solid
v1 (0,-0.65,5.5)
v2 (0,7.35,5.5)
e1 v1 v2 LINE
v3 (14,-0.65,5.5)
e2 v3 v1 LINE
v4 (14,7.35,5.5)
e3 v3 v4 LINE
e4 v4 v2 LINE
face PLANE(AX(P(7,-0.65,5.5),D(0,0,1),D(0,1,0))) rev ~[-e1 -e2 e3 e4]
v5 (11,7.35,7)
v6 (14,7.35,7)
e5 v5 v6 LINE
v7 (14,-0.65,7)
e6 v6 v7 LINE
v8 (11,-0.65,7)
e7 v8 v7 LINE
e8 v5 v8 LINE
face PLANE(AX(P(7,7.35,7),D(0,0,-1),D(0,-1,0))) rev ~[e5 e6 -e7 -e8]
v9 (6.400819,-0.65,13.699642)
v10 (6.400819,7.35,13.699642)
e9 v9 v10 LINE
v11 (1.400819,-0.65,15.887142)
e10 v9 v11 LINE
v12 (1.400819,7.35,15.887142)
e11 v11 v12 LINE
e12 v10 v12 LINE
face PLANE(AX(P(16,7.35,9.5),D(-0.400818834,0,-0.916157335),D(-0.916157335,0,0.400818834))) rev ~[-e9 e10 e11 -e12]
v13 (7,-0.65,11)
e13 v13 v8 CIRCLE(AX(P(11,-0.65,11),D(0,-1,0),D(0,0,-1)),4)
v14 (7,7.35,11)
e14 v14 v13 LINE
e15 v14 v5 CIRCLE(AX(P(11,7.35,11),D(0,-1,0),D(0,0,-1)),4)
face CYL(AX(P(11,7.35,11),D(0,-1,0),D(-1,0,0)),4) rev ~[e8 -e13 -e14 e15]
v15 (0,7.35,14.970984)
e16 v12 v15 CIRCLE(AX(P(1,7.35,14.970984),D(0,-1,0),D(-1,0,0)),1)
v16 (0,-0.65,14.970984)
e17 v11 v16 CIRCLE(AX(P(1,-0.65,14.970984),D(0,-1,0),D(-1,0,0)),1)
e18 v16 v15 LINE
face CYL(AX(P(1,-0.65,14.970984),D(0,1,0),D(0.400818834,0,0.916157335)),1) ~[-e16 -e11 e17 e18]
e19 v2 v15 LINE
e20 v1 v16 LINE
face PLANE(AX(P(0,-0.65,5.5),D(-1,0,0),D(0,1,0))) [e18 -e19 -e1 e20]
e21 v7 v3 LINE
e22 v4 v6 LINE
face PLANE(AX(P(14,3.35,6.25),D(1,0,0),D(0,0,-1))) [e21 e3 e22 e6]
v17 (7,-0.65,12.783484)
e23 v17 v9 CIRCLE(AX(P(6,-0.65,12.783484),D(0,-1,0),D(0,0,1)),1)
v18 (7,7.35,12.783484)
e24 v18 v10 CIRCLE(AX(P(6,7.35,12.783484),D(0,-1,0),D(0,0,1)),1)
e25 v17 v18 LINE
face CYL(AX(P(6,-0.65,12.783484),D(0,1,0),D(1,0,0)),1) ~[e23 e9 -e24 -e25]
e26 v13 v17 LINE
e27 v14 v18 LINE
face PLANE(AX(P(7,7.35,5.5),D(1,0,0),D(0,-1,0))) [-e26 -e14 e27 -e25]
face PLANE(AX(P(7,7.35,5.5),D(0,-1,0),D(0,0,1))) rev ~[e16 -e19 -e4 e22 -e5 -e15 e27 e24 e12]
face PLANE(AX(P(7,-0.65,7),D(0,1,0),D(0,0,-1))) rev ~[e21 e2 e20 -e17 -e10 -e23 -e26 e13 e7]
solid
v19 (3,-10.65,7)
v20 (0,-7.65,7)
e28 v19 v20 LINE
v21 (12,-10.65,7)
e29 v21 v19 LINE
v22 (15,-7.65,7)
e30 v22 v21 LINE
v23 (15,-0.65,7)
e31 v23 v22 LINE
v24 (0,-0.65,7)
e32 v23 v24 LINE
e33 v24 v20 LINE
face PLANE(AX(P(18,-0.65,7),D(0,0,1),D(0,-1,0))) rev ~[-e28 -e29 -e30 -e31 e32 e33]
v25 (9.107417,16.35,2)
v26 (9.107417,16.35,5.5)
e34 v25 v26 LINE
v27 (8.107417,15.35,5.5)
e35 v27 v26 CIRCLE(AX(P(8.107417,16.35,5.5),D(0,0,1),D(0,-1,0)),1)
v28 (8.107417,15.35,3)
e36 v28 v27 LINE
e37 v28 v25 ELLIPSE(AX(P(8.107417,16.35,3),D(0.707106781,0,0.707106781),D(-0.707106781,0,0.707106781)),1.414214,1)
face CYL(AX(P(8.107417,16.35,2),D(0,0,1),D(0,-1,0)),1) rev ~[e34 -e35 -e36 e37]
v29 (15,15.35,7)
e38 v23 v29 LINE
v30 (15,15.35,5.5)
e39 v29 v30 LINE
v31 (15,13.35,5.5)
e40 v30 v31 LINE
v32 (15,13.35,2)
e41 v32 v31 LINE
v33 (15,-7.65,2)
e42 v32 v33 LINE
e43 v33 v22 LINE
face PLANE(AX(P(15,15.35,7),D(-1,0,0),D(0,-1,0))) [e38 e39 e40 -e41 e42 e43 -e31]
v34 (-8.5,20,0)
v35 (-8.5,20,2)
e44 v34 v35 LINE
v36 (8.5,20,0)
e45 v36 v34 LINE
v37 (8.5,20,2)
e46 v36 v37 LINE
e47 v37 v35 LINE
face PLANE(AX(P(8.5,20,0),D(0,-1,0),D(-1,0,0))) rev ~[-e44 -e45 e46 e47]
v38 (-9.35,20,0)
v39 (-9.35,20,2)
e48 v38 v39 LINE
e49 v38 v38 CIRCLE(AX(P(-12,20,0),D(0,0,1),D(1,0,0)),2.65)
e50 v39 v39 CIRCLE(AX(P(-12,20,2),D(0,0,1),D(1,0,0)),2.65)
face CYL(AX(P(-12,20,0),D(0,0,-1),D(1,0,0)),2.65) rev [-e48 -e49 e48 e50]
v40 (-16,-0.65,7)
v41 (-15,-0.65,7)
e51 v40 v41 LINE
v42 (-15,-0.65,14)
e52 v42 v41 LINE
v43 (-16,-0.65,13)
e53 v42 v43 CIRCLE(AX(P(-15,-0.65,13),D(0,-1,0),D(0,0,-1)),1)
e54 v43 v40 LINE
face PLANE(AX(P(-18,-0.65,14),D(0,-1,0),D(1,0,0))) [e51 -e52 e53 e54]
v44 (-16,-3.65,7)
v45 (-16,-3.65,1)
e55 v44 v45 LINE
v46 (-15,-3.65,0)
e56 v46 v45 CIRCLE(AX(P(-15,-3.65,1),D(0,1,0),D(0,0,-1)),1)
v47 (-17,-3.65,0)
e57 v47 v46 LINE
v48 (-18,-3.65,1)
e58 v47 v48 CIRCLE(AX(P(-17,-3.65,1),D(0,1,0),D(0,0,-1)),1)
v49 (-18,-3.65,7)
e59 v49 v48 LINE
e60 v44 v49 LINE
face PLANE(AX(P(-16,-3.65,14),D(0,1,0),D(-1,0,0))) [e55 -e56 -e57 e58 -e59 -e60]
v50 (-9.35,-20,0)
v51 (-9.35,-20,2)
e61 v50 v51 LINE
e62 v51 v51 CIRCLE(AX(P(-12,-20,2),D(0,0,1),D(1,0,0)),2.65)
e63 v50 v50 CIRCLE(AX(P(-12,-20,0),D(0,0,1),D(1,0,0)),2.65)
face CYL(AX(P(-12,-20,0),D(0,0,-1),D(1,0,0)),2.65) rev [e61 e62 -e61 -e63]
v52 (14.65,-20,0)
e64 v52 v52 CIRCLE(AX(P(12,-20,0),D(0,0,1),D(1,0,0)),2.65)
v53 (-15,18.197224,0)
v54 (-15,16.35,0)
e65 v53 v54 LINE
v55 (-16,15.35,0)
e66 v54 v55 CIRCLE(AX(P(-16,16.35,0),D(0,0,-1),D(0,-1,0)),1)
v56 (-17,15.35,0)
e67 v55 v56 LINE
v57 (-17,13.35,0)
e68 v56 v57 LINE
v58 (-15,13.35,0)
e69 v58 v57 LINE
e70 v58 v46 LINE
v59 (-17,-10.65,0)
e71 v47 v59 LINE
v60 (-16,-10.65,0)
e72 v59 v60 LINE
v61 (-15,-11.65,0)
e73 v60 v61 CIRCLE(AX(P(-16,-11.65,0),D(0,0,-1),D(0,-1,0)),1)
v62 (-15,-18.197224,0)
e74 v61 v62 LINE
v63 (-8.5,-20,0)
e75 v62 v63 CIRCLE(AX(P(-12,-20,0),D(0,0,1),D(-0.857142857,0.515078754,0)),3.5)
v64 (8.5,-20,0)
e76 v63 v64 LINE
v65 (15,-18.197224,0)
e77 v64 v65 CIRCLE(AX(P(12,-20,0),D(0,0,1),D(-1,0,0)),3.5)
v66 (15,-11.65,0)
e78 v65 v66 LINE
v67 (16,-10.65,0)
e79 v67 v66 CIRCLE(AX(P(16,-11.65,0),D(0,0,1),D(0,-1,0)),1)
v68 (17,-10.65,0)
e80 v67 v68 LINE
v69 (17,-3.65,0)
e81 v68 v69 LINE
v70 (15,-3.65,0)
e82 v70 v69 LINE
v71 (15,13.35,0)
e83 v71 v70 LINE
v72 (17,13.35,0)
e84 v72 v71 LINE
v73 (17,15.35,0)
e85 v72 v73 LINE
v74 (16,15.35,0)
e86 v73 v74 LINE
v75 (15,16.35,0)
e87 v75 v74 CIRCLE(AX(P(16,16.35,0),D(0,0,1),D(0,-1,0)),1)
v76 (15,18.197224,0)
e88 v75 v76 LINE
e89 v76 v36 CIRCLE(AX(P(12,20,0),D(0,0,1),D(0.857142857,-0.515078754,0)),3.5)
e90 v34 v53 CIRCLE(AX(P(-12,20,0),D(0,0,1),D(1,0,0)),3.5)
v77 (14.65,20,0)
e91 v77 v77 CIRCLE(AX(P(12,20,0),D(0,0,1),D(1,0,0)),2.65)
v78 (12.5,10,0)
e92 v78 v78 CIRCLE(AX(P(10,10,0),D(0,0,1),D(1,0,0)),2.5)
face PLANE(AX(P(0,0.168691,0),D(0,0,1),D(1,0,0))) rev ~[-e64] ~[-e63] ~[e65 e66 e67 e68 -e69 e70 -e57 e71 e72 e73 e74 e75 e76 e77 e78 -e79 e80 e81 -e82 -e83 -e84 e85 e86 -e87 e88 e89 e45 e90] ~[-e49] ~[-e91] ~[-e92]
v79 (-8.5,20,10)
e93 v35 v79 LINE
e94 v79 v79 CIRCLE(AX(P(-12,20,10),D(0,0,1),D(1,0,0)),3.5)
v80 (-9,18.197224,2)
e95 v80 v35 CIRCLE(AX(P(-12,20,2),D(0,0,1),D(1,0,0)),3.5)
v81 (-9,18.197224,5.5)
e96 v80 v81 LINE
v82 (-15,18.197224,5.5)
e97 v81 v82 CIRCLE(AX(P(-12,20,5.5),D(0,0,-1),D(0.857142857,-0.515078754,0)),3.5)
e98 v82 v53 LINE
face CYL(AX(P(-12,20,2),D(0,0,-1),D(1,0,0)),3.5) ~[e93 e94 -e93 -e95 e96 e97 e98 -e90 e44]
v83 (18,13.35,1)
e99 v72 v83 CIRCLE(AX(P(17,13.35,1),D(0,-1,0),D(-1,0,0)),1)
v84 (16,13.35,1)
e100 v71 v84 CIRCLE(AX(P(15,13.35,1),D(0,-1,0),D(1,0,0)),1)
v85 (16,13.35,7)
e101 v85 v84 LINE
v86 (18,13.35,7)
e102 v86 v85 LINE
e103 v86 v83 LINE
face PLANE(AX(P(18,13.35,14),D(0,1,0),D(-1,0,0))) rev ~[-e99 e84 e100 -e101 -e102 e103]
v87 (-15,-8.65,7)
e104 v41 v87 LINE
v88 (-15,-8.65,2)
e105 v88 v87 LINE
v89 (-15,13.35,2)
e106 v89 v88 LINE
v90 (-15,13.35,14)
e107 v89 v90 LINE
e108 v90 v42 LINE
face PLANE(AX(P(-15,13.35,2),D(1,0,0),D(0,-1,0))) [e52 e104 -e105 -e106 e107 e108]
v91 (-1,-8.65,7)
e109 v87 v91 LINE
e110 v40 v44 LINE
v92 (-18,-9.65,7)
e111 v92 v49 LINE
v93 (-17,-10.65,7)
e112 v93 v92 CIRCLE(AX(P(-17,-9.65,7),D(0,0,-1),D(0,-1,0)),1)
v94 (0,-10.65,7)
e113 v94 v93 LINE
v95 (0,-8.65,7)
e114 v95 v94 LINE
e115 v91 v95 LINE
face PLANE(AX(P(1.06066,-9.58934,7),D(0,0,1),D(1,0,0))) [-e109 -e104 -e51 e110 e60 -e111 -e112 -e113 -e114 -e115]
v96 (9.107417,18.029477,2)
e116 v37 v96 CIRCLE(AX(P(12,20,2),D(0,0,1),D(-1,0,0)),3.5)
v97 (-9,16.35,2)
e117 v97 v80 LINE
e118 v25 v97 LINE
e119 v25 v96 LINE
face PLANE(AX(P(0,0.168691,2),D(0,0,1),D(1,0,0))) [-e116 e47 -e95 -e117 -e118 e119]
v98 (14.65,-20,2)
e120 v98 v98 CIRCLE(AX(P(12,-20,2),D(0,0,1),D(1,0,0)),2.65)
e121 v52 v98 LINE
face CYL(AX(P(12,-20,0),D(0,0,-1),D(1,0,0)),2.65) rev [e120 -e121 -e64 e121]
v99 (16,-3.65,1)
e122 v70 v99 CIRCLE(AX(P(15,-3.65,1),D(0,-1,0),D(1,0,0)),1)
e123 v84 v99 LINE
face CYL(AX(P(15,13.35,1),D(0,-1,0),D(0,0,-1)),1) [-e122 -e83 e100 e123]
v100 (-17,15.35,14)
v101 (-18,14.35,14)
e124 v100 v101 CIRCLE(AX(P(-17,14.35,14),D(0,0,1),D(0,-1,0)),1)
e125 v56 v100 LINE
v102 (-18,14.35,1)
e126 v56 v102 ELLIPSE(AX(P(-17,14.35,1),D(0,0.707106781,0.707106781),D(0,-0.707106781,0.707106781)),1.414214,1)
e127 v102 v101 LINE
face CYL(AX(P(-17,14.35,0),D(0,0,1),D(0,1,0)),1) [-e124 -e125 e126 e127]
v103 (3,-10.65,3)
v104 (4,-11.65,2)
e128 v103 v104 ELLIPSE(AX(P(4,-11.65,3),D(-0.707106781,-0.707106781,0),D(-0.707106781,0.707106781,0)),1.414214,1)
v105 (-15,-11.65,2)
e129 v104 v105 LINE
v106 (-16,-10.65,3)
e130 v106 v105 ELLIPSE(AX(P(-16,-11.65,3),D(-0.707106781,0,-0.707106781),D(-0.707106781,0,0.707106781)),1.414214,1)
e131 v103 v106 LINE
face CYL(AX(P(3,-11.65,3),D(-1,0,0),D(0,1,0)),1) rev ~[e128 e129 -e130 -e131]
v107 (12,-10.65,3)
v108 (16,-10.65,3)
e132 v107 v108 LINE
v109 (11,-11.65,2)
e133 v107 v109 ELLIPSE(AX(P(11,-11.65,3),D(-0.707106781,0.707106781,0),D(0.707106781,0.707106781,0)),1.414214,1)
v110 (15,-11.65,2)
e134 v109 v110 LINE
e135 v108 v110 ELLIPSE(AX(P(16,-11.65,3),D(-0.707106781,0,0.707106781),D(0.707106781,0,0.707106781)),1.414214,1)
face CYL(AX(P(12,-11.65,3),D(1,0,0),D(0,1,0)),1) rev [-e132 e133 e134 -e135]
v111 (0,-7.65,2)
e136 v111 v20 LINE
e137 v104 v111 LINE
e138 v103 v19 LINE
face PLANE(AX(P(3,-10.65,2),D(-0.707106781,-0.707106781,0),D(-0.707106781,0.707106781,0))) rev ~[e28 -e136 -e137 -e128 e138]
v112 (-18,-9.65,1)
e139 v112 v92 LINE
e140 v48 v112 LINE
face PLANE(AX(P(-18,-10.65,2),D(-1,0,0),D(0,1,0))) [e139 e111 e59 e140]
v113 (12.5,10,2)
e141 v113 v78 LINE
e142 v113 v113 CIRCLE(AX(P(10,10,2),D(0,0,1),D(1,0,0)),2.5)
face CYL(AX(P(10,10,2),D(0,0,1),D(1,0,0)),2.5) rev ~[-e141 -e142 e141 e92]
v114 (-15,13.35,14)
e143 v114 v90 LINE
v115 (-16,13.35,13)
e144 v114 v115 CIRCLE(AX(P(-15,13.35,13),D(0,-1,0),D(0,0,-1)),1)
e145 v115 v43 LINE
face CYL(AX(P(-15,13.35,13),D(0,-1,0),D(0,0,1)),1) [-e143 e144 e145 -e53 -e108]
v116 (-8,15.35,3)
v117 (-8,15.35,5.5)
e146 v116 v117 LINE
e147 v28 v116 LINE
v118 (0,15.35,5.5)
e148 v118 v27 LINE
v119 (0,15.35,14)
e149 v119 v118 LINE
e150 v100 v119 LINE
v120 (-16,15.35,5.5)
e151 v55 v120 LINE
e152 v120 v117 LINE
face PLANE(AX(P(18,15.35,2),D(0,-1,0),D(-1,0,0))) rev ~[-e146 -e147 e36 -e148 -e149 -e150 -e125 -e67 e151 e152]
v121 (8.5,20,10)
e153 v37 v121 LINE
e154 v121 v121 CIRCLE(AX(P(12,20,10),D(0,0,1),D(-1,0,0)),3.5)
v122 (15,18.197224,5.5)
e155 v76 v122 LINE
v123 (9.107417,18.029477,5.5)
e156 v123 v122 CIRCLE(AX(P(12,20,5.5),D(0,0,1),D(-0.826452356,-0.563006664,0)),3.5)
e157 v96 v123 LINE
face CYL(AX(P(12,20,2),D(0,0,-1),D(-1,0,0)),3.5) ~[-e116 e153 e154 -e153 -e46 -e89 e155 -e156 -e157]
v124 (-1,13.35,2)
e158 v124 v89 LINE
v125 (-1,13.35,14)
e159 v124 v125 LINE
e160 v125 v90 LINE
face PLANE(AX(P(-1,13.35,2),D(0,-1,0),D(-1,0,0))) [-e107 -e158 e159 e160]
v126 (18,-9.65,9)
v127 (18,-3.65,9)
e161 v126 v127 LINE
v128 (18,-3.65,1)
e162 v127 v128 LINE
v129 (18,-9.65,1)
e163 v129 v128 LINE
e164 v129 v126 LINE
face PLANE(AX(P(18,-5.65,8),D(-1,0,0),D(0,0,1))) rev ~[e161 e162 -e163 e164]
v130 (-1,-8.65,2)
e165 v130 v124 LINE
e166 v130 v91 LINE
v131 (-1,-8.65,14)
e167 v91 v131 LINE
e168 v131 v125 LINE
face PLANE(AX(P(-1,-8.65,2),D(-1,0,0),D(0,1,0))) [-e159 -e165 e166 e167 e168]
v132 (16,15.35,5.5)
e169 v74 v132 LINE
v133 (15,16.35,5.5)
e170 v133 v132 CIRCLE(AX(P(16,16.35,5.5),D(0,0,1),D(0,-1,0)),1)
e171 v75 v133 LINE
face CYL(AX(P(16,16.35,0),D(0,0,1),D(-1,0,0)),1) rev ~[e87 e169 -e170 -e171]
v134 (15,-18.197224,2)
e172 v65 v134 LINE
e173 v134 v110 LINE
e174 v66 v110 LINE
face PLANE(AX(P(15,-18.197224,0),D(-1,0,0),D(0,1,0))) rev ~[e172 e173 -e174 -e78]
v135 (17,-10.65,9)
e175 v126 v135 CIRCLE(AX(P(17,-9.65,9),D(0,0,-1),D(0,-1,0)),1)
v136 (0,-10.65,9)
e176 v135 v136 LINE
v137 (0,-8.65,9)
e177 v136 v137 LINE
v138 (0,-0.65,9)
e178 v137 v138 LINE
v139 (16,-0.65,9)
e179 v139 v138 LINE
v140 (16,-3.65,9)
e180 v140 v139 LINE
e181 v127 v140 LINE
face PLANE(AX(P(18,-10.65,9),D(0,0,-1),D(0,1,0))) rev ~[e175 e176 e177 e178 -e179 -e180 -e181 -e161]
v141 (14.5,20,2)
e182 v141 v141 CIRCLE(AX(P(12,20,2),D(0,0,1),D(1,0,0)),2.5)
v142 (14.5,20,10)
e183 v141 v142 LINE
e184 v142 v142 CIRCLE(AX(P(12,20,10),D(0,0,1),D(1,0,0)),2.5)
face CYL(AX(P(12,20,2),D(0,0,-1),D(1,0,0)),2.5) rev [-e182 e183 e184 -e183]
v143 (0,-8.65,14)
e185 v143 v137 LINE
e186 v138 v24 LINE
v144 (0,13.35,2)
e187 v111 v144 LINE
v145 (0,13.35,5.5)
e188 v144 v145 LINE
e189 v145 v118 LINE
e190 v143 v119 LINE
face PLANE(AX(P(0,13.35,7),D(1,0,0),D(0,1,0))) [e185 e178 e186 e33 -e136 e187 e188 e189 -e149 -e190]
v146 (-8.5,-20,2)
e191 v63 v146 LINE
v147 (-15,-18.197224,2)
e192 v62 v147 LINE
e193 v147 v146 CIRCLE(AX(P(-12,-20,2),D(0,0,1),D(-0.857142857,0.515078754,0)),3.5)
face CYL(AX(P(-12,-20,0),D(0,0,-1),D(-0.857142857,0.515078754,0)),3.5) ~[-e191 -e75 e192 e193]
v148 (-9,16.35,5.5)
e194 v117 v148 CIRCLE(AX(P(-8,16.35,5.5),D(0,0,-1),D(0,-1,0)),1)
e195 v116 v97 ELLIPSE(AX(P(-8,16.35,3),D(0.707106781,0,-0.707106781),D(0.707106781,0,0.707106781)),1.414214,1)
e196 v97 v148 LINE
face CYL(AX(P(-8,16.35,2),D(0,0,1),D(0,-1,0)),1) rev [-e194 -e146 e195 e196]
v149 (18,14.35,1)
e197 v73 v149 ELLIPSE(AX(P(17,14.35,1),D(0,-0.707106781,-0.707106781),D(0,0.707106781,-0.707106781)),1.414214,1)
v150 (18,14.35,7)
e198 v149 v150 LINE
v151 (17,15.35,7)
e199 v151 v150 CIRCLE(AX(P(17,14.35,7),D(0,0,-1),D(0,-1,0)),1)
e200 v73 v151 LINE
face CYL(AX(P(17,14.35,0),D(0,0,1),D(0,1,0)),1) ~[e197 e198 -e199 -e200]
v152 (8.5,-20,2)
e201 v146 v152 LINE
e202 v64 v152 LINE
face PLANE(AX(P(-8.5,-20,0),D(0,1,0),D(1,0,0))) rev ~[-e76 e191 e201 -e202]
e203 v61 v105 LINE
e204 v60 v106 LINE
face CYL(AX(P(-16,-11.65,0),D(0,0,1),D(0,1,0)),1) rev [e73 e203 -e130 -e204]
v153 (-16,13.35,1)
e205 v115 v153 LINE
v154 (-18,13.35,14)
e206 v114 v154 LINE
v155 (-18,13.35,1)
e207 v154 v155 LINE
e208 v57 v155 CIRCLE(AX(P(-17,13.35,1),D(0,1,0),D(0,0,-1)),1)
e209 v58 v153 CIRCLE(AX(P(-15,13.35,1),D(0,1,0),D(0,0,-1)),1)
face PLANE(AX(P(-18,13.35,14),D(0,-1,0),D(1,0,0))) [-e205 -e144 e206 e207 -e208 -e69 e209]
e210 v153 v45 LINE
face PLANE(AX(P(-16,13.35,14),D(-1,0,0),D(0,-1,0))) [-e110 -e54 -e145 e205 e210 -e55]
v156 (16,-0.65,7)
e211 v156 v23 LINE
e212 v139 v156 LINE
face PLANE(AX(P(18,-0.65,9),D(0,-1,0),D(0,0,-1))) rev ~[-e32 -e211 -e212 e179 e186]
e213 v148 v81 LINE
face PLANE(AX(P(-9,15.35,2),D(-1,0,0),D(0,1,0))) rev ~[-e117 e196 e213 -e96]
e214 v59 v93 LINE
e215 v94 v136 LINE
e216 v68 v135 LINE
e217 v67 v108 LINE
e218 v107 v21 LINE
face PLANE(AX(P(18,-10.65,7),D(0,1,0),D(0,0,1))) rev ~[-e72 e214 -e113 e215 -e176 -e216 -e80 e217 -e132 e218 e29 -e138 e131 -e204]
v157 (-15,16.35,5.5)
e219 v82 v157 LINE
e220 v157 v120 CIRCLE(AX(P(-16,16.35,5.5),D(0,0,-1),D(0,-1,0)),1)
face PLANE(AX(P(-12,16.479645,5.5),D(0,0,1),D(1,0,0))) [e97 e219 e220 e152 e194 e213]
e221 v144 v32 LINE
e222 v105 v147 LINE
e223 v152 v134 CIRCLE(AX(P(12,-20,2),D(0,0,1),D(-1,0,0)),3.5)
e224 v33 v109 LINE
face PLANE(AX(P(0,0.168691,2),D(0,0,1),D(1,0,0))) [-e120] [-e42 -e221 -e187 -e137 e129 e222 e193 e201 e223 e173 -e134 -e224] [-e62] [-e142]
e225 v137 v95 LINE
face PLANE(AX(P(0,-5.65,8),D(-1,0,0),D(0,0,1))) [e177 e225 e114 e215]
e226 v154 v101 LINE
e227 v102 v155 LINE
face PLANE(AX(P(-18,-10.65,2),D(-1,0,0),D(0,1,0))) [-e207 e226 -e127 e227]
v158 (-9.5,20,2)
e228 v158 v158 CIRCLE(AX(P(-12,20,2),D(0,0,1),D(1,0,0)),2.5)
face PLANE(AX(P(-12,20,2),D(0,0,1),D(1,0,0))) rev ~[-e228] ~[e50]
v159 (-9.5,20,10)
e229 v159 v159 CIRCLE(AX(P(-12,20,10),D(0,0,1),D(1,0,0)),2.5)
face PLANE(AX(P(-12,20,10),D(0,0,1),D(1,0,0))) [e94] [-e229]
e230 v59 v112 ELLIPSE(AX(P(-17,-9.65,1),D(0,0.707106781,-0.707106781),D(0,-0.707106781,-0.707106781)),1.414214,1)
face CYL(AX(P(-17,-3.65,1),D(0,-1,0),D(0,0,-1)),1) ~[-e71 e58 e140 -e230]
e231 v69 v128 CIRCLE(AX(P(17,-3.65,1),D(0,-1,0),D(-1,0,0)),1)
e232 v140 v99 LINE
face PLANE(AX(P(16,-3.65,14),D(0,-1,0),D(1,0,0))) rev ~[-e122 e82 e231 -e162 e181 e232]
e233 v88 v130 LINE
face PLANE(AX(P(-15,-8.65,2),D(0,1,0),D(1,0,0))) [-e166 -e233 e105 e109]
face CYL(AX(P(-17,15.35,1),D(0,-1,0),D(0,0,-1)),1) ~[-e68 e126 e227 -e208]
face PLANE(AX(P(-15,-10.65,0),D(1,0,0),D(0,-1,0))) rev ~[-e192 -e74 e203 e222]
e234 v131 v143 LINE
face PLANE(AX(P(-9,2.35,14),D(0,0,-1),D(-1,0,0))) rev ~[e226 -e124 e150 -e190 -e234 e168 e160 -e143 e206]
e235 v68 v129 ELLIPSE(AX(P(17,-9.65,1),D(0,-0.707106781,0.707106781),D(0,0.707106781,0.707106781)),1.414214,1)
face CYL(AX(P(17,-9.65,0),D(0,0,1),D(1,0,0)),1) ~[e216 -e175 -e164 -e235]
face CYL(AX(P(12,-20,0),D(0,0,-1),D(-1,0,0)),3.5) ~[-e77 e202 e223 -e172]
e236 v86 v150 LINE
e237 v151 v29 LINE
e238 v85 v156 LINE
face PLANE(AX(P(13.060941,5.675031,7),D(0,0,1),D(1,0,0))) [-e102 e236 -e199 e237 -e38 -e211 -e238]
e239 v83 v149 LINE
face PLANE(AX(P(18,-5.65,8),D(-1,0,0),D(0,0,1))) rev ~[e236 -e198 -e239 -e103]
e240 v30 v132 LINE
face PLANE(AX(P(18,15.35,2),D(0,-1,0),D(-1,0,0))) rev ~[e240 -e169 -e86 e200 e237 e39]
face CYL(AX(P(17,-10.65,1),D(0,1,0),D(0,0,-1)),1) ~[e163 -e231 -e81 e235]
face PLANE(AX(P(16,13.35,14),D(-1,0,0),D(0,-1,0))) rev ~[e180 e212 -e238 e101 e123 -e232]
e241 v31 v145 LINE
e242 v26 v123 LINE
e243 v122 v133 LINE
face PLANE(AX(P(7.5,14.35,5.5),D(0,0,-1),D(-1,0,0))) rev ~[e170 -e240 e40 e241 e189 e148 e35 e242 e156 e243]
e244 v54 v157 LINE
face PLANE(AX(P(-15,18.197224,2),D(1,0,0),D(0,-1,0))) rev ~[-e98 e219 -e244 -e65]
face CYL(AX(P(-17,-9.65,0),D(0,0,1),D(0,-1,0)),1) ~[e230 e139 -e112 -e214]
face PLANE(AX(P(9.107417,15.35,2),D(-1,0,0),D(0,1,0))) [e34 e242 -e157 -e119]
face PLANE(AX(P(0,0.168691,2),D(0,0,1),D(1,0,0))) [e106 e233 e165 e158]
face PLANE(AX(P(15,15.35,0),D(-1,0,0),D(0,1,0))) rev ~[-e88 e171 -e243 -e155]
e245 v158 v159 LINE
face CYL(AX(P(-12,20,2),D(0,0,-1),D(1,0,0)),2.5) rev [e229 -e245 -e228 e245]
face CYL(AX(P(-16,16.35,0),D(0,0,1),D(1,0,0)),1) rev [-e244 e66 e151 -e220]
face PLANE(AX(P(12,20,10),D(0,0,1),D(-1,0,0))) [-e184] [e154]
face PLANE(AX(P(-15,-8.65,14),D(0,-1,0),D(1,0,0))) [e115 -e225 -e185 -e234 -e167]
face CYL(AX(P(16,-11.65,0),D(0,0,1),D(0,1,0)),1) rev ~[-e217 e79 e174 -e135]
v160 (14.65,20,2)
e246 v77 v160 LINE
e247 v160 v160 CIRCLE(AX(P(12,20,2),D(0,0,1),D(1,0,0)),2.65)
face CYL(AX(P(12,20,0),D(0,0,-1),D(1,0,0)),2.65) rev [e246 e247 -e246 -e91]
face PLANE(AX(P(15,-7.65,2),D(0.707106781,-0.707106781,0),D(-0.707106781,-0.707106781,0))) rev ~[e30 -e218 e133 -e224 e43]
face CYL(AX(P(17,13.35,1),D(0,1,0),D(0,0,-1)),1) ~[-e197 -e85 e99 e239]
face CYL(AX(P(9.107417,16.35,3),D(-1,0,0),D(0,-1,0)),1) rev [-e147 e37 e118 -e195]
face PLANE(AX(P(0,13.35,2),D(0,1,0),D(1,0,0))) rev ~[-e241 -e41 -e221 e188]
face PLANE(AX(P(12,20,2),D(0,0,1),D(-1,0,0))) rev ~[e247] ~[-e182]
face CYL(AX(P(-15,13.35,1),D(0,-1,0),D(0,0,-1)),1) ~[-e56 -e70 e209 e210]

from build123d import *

# Parameters (mm, degrees)
SKETCH1_R            = 2.65
SKETCH1_R_2          = 2.650000000000013
BOSS_EXTRUDE1_DEPTH  = 2
BOSS_EXTRUDE2_DEPTH  = 12
CUT_EXTRUDE1_DEPTH   = 7
BOSS_EXTRUDE3_DEPTH  = 5
SKETCH6_R            = 3.4999999999999982
SKETCH6_R_2          = 2.4999999999999996
SKETCH6_R_3          = 3.4999999999999996
SKETCH6_R_4          = 2.4999999999999964
BOSS_EXTRUDE4_DEPTH  = 8
BOSS_EXTRUDE5_DEPTH  = 18
BOSS_EXTRUDE6_DEPTH  = 3.5
CUT_EXTRUDE2_DEPTH   = 1.5
SKETCH10_R           = 2.5000000000000004
CUT_EXTRUDE3_DEPTH   = 32.94135250736888
CUT_EXTRUDE4_DEPTH   = 33.74522866006589
FILLET1_R            = 1
BOSS_EXTRUDE7_DEPTH  = 11
CUT_EXTRUDE5_DEPTH   = 8
FILLET2_R            = 1
BOSS_EXTRUDE18_DEPTH = 7
FILLET3_R            = 4


with BuildPart() as part:
    # Sketch1 → Boss-Extrude1 (new body)
    with BuildSketch(Plane.XY):
        with BuildLine():
            Line((-14.999999999999993, 18.19722436226799), (-14.999999999999996, 15.350000000000001))
            Line((-14.999999999999996, 15.350000000000001), (-17.999999999999993, 15.350000000000001))
            Line((-17.999999999999993, 15.350000000000001), (-17.999999999999993, -10.649999999999999))
            Line((-17.999999999999993, -10.649999999999999), (-14.999999999999993, -10.649999999999999))
            Line((-14.999999999999993, -10.649999999999999), (-15.000000000000004, -18.197224362268003))
            ThreePointArc((-15.000000000000004, -18.197224362268003), (-12.935414346693491, -23.372684390808004), (-8.500000000000004, -20))
            Line((-8.500000000000004, -20), (8.499999999999996, -20))
            ThreePointArc((8.499999999999996, -20), (12.935414346693465, -23.37268439080802), (15.00000000000001, -18.197224362268035))
            Line((15.00000000000001, -18.197224362268035), (15.000000000000007, -10.649999999999995))
            Line((15.000000000000007, -10.649999999999995), (18.000000000000004, -10.649999999999995))
            Line((18.000000000000004, -10.649999999999995), (18.000000000000007, 15.350000000000005))
            Line((18.000000000000007, 15.350000000000005), (15.000000000000007, 15.350000000000005))
            Line((15.000000000000007, 15.350000000000005), (15.000000000000007, 18.197224362268017))
            ThreePointArc((15.000000000000007, 18.197224362268017), (12.935414346693479, 23.37268439080801), (8.5, 20))
            Line((8.5, 20), (-8.500000000000005, 19.999999999999996))
            ThreePointArc((-8.500000000000005, 19.999999999999996), (-12.935414346693495, 23.372684390808008), (-14.999999999999993, 18.19722436226799))
        make_face()
        with Locations((12, 20)):
            Circle(SKETCH1_R, mode=Mode.SUBTRACT)
        with Locations((11.999999999999996, -20.000000000000004)):
            Circle(SKETCH1_R, mode=Mode.SUBTRACT)
        with Locations((-12.000000000000004, 20)):
            Circle(SKETCH1_R, mode=Mode.SUBTRACT)
        with Locations((-12.000000000000004, -19.999999999999996)):
            Circle(SKETCH1_R_2, mode=Mode.SUBTRACT)
    extrude(amount=BOSS_EXTRUDE1_DEPTH)

    # Sketch2 → Boss-Extrude2 (add)
    with BuildSketch(Plane.XY.offset(2)):
        Polygon((-17.999999999999993, 15.350000000000001), (0, 15.350000000000001), (2.4e-16, 13.500000000000002), (2.82e-15, -7.499999999999996), (3.18e-15, -10.649999999999997), (-17.999999999999993, -10.649999999999999), align=None)
        Polygon((-0.9999999999999972, 13.350000000000001), (-14.99999999999999, 13.35), (-14.99999999999999, -8.649999999999999), (-0.9999999999999974, -8.649999999999999), align=None, mode=Mode.SUBTRACT)
    extrude(amount=BOSS_EXTRUDE2_DEPTH)

    # Sketch3 → Cut-Extrude1 (cut)
    with BuildSketch(Plane.XY.offset(14)):
        Polygon((-17.999999999999996, -0.6499999999999978), (-14.99999999999999, -0.6499999999999978), (-14.99999999999999, -8.649999999999999), (0, -8.649999999999999), (3.18e-15, -10.649999999999997), (-17.999999999999993, -10.649999999999999), align=None)
    extrude(amount=-CUT_EXTRUDE1_DEPTH, mode=Mode.SUBTRACT)

    # Sketch4 → Boss-Extrude3 (add)
    with BuildSketch(Plane.XY.offset(2)):
        Polygon((18.000000000000004, -10.649999999999995), (18.000000000000007, 15.350000000000005), (15.000000000000007, 15.350000000000005), (0, 15.350000000000001), (2.5e-16, 13.350000000000003), (15.000000000000004, 13.350000000000003), (15.000000000000007, -7.649999999999994), (12.000000000000007, -10.649999999999995), align=None)
        Polygon((3.18e-15, -10.649999999999997), (3.000000000000003, -10.649999999999997), (0, -7.649999999999994), align=None)
    extrude(amount=BOSS_EXTRUDE3_DEPTH)

    # Sketch6 → Boss-Extrude4 (add)
    # profile 1 of 2: a face of its own
    with BuildSketch(Plane.XY.offset(2)):
        with Locations(Location((12, 20, 0), (0, 0, 180))):
            Circle(SKETCH6_R)
        with Locations((12, 20)):
            Circle(SKETCH6_R_2, mode=Mode.SUBTRACT)
    # profile 2 of 2: a face of its own
    with BuildSketch(Plane.XY.offset(2)):
        with Locations((-12.000000000000004, 20)):
            Circle(SKETCH6_R_3)
        with Locations((-12.000000000000004, 20)):
            Circle(SKETCH6_R_4, mode=Mode.SUBTRACT)
    extrude(amount=BOSS_EXTRUDE4_DEPTH)

    # Sketch7 → Boss-Extrude5 (add)
    with BuildSketch(Plane(origin=(18.000000000000004, -2.4e-15, 0), x_dir=(0, 0, -1), z_dir=(1, -1.3e-16, 0))):
        Polygon((-7, -10.649999999999993), (-9.000000000000002, -10.649999999999997), (-9.000000000000002, -0.649999999999996), (-7, -0.649999999999996), align=None)
    extrude(amount=-BOSS_EXTRUDE5_DEPTH)

    # Sketch8 → Boss-Extrude6 (add)
    with BuildSketch(Plane.XY.offset(2)):
        with BuildLine():
            Line((-14.999999999999993, 18.19722436226799), (-14.999999999999996, 15.350000000000001))
            Line((-14.999999999999996, 15.350000000000001), (-9.000000000000005, 15.350000000000005))
            Line((-9.000000000000005, 15.350000000000005), (-9.000000000000005, 18.197224362268006))
            ThreePointArc((-9.000000000000005, 18.197224362268006), (-11.999999999999993, 16.5), (-14.999999999999993, 18.19722436226799))
        make_face()
        with BuildLine():
            Line((15.000000000000005, 18.197224362268017), (15.000000000000007, 15.350000000000005))
            Line((15.000000000000007, 15.350000000000005), (9.107416754268383, 15.350000000000005))
            Line((9.107416754268383, 15.350000000000005), (9.107416754268383, 18.02947667699346))
            ThreePointArc((9.107416754268383, 18.02947667699346), (12.099596241159652, 16.501417345731724), (15.000000000000005, 18.197224362268017))
        make_face()
    extrude(amount=BOSS_EXTRUDE6_DEPTH)

    # Sketch9 → Cut-Extrude2 (cut)
    with BuildSketch(Plane.XY.offset(7)):
        Polygon((0, 15.350000000000001), (15.000000000000004, 15.350000000000001), (15.000000000000004, 13.350000000000003), (2.5e-16, 13.350000000000003), align=None)
    extrude(amount=-CUT_EXTRUDE2_DEPTH, mode=Mode.SUBTRACT)

    # Sketch10 → Cut-Extrude3 (cut, through all)
    with BuildSketch(Plane.XY.offset(2)):
        with Locations((10, 10)):
            Circle(SKETCH10_R)
    extrude(amount=-CUT_EXTRUDE3_DEPTH, mode=Mode.SUBTRACT)

    # Sketch11 → Cut-Extrude4 (cut, through all)
    with BuildSketch(Plane.XY.offset(14)):
        Polygon((-17.999999999999993, 13.350000000000001), (-15.999999999999986, 13.350000000000001), (-15.999999999999986, -3.6500000000000004), (-17.99999999999999, -3.6500000000000004), align=None)
        Polygon((18.000000000000004, 13.350000000000003), (16, 13.350000000000005), (16.000000000000007, -3.649999999999997), (18.000000000000007, -3.649999999999997), align=None)
    extrude(amount=-CUT_EXTRUDE4_DEPTH, mode=Mode.SUBTRACT)

    # Fillet1
    fillet1_edges = [part.edges().sort_by_distance(p)[0] for p in [
        (13.500000000000007, -10.649999999999995, 2),
        (18.000000000000004, -7.149999999999996, 0),
        (-9.000000000000005, 15.350000000000005, 3.75),
        (0.0537083771341873, 15.350000000000003, 2),
        (9.107416754268383, 15.350000000000005, 3.75),
        (-17.999999999999993, 14.350000000000001, 0),
        (18.000000000000007, 14.350000000000005, 0),
        (-17.999999999999993, -7.149999999999999, 0),
        (-15.999999999999986, 6.350000000000001, 14),
        (-15.999999999999986, 4.850000000000001, 0),
        (16.000000000000004, 4.850000000000005, 0),
        (-14.999999999999996, 15.350000000000001, 2.75),
        (15.000000000000007, 15.350000000000005, 2.75),
        (18.000000000000007, 15.350000000000005, 3.5),
        (18.000000000000004, -10.649999999999997, 4.500000000000001),
        (15.000000000000007, -10.649999999999995, 1),
        (-14.999999999999993, -10.649999999999999, 1),
        (-17.999999999999993, 15.350000000000001, 7),
        (-5.999999999999995, -10.649999999999999, 2),
        (-17.999999999999993, -10.649999999999999, 3.5),
    ]]
    fillet(fillet1_edges, radius=FILLET1_R)


with BuildPart() as body_2:
    # Sketch12 → Boss-Extrude7 (new body)
    with BuildSketch(Plane.XY.offset(5.5)):
        Polygon((3.05e-15, 7.350000000000004), (7.0000000000000036, 7.350000000000004), (7.0000000000000036, -0.649999999999996), (2.7e-16, -0.6499999999999972), align=None)
    extrude(amount=BOSS_EXTRUDE7_DEPTH)

    # Sketch16 → Cut-Extrude5 (cut)
    with BuildSketch(Plane(origin=(0, 7.350000000000004, 0), x_dir=(1, 0, 0), z_dir=(0, 1, 0))):
        Polygon((16.000000000000007, -9.500000000000002), (3.05e-15, -16.5), (16.000000000000007, -16.5), align=None)
    extrude(amount=-CUT_EXTRUDE5_DEPTH, mode=Mode.SUBTRACT)

    # Fillet2
    fillet2_edges = [body_2.edges().sort_by_distance(p)[0] for p in [
        (7.0000000000000036, 3.350000000000004, 13.437500000000002),
        (1.66e-15, 3.3500000000000036, 16.5),
    ]]
    fillet(fillet2_edges, radius=FILLET2_R)

    # Sketch19 → Boss-Extrude18 (add)
    with BuildSketch(Plane(origin=(7.0000000000000036, 0, 0), x_dir=(0, 0, -1), z_dir=(1, 0, 0))):
        Polygon((-5.5, 7.350000000000004), (-6.999999999999999, 7.350000000000004), (-6.999999999999998, -0.649999999999996), (-5.499999999999999, -0.649999999999996), align=None)
    extrude(amount=BOSS_EXTRUDE18_DEPTH)

    # Fillet3
    fillet3_edges = [body_2.edges().sort_by_distance(p)[0] for p in [
        (7.0000000000000036, 3.350000000000004, 6.999999999999998),
    ]]
    fillet(fillet3_edges, radius=FILLET3_R)


solid = Compound([part.part, body_2.part])
